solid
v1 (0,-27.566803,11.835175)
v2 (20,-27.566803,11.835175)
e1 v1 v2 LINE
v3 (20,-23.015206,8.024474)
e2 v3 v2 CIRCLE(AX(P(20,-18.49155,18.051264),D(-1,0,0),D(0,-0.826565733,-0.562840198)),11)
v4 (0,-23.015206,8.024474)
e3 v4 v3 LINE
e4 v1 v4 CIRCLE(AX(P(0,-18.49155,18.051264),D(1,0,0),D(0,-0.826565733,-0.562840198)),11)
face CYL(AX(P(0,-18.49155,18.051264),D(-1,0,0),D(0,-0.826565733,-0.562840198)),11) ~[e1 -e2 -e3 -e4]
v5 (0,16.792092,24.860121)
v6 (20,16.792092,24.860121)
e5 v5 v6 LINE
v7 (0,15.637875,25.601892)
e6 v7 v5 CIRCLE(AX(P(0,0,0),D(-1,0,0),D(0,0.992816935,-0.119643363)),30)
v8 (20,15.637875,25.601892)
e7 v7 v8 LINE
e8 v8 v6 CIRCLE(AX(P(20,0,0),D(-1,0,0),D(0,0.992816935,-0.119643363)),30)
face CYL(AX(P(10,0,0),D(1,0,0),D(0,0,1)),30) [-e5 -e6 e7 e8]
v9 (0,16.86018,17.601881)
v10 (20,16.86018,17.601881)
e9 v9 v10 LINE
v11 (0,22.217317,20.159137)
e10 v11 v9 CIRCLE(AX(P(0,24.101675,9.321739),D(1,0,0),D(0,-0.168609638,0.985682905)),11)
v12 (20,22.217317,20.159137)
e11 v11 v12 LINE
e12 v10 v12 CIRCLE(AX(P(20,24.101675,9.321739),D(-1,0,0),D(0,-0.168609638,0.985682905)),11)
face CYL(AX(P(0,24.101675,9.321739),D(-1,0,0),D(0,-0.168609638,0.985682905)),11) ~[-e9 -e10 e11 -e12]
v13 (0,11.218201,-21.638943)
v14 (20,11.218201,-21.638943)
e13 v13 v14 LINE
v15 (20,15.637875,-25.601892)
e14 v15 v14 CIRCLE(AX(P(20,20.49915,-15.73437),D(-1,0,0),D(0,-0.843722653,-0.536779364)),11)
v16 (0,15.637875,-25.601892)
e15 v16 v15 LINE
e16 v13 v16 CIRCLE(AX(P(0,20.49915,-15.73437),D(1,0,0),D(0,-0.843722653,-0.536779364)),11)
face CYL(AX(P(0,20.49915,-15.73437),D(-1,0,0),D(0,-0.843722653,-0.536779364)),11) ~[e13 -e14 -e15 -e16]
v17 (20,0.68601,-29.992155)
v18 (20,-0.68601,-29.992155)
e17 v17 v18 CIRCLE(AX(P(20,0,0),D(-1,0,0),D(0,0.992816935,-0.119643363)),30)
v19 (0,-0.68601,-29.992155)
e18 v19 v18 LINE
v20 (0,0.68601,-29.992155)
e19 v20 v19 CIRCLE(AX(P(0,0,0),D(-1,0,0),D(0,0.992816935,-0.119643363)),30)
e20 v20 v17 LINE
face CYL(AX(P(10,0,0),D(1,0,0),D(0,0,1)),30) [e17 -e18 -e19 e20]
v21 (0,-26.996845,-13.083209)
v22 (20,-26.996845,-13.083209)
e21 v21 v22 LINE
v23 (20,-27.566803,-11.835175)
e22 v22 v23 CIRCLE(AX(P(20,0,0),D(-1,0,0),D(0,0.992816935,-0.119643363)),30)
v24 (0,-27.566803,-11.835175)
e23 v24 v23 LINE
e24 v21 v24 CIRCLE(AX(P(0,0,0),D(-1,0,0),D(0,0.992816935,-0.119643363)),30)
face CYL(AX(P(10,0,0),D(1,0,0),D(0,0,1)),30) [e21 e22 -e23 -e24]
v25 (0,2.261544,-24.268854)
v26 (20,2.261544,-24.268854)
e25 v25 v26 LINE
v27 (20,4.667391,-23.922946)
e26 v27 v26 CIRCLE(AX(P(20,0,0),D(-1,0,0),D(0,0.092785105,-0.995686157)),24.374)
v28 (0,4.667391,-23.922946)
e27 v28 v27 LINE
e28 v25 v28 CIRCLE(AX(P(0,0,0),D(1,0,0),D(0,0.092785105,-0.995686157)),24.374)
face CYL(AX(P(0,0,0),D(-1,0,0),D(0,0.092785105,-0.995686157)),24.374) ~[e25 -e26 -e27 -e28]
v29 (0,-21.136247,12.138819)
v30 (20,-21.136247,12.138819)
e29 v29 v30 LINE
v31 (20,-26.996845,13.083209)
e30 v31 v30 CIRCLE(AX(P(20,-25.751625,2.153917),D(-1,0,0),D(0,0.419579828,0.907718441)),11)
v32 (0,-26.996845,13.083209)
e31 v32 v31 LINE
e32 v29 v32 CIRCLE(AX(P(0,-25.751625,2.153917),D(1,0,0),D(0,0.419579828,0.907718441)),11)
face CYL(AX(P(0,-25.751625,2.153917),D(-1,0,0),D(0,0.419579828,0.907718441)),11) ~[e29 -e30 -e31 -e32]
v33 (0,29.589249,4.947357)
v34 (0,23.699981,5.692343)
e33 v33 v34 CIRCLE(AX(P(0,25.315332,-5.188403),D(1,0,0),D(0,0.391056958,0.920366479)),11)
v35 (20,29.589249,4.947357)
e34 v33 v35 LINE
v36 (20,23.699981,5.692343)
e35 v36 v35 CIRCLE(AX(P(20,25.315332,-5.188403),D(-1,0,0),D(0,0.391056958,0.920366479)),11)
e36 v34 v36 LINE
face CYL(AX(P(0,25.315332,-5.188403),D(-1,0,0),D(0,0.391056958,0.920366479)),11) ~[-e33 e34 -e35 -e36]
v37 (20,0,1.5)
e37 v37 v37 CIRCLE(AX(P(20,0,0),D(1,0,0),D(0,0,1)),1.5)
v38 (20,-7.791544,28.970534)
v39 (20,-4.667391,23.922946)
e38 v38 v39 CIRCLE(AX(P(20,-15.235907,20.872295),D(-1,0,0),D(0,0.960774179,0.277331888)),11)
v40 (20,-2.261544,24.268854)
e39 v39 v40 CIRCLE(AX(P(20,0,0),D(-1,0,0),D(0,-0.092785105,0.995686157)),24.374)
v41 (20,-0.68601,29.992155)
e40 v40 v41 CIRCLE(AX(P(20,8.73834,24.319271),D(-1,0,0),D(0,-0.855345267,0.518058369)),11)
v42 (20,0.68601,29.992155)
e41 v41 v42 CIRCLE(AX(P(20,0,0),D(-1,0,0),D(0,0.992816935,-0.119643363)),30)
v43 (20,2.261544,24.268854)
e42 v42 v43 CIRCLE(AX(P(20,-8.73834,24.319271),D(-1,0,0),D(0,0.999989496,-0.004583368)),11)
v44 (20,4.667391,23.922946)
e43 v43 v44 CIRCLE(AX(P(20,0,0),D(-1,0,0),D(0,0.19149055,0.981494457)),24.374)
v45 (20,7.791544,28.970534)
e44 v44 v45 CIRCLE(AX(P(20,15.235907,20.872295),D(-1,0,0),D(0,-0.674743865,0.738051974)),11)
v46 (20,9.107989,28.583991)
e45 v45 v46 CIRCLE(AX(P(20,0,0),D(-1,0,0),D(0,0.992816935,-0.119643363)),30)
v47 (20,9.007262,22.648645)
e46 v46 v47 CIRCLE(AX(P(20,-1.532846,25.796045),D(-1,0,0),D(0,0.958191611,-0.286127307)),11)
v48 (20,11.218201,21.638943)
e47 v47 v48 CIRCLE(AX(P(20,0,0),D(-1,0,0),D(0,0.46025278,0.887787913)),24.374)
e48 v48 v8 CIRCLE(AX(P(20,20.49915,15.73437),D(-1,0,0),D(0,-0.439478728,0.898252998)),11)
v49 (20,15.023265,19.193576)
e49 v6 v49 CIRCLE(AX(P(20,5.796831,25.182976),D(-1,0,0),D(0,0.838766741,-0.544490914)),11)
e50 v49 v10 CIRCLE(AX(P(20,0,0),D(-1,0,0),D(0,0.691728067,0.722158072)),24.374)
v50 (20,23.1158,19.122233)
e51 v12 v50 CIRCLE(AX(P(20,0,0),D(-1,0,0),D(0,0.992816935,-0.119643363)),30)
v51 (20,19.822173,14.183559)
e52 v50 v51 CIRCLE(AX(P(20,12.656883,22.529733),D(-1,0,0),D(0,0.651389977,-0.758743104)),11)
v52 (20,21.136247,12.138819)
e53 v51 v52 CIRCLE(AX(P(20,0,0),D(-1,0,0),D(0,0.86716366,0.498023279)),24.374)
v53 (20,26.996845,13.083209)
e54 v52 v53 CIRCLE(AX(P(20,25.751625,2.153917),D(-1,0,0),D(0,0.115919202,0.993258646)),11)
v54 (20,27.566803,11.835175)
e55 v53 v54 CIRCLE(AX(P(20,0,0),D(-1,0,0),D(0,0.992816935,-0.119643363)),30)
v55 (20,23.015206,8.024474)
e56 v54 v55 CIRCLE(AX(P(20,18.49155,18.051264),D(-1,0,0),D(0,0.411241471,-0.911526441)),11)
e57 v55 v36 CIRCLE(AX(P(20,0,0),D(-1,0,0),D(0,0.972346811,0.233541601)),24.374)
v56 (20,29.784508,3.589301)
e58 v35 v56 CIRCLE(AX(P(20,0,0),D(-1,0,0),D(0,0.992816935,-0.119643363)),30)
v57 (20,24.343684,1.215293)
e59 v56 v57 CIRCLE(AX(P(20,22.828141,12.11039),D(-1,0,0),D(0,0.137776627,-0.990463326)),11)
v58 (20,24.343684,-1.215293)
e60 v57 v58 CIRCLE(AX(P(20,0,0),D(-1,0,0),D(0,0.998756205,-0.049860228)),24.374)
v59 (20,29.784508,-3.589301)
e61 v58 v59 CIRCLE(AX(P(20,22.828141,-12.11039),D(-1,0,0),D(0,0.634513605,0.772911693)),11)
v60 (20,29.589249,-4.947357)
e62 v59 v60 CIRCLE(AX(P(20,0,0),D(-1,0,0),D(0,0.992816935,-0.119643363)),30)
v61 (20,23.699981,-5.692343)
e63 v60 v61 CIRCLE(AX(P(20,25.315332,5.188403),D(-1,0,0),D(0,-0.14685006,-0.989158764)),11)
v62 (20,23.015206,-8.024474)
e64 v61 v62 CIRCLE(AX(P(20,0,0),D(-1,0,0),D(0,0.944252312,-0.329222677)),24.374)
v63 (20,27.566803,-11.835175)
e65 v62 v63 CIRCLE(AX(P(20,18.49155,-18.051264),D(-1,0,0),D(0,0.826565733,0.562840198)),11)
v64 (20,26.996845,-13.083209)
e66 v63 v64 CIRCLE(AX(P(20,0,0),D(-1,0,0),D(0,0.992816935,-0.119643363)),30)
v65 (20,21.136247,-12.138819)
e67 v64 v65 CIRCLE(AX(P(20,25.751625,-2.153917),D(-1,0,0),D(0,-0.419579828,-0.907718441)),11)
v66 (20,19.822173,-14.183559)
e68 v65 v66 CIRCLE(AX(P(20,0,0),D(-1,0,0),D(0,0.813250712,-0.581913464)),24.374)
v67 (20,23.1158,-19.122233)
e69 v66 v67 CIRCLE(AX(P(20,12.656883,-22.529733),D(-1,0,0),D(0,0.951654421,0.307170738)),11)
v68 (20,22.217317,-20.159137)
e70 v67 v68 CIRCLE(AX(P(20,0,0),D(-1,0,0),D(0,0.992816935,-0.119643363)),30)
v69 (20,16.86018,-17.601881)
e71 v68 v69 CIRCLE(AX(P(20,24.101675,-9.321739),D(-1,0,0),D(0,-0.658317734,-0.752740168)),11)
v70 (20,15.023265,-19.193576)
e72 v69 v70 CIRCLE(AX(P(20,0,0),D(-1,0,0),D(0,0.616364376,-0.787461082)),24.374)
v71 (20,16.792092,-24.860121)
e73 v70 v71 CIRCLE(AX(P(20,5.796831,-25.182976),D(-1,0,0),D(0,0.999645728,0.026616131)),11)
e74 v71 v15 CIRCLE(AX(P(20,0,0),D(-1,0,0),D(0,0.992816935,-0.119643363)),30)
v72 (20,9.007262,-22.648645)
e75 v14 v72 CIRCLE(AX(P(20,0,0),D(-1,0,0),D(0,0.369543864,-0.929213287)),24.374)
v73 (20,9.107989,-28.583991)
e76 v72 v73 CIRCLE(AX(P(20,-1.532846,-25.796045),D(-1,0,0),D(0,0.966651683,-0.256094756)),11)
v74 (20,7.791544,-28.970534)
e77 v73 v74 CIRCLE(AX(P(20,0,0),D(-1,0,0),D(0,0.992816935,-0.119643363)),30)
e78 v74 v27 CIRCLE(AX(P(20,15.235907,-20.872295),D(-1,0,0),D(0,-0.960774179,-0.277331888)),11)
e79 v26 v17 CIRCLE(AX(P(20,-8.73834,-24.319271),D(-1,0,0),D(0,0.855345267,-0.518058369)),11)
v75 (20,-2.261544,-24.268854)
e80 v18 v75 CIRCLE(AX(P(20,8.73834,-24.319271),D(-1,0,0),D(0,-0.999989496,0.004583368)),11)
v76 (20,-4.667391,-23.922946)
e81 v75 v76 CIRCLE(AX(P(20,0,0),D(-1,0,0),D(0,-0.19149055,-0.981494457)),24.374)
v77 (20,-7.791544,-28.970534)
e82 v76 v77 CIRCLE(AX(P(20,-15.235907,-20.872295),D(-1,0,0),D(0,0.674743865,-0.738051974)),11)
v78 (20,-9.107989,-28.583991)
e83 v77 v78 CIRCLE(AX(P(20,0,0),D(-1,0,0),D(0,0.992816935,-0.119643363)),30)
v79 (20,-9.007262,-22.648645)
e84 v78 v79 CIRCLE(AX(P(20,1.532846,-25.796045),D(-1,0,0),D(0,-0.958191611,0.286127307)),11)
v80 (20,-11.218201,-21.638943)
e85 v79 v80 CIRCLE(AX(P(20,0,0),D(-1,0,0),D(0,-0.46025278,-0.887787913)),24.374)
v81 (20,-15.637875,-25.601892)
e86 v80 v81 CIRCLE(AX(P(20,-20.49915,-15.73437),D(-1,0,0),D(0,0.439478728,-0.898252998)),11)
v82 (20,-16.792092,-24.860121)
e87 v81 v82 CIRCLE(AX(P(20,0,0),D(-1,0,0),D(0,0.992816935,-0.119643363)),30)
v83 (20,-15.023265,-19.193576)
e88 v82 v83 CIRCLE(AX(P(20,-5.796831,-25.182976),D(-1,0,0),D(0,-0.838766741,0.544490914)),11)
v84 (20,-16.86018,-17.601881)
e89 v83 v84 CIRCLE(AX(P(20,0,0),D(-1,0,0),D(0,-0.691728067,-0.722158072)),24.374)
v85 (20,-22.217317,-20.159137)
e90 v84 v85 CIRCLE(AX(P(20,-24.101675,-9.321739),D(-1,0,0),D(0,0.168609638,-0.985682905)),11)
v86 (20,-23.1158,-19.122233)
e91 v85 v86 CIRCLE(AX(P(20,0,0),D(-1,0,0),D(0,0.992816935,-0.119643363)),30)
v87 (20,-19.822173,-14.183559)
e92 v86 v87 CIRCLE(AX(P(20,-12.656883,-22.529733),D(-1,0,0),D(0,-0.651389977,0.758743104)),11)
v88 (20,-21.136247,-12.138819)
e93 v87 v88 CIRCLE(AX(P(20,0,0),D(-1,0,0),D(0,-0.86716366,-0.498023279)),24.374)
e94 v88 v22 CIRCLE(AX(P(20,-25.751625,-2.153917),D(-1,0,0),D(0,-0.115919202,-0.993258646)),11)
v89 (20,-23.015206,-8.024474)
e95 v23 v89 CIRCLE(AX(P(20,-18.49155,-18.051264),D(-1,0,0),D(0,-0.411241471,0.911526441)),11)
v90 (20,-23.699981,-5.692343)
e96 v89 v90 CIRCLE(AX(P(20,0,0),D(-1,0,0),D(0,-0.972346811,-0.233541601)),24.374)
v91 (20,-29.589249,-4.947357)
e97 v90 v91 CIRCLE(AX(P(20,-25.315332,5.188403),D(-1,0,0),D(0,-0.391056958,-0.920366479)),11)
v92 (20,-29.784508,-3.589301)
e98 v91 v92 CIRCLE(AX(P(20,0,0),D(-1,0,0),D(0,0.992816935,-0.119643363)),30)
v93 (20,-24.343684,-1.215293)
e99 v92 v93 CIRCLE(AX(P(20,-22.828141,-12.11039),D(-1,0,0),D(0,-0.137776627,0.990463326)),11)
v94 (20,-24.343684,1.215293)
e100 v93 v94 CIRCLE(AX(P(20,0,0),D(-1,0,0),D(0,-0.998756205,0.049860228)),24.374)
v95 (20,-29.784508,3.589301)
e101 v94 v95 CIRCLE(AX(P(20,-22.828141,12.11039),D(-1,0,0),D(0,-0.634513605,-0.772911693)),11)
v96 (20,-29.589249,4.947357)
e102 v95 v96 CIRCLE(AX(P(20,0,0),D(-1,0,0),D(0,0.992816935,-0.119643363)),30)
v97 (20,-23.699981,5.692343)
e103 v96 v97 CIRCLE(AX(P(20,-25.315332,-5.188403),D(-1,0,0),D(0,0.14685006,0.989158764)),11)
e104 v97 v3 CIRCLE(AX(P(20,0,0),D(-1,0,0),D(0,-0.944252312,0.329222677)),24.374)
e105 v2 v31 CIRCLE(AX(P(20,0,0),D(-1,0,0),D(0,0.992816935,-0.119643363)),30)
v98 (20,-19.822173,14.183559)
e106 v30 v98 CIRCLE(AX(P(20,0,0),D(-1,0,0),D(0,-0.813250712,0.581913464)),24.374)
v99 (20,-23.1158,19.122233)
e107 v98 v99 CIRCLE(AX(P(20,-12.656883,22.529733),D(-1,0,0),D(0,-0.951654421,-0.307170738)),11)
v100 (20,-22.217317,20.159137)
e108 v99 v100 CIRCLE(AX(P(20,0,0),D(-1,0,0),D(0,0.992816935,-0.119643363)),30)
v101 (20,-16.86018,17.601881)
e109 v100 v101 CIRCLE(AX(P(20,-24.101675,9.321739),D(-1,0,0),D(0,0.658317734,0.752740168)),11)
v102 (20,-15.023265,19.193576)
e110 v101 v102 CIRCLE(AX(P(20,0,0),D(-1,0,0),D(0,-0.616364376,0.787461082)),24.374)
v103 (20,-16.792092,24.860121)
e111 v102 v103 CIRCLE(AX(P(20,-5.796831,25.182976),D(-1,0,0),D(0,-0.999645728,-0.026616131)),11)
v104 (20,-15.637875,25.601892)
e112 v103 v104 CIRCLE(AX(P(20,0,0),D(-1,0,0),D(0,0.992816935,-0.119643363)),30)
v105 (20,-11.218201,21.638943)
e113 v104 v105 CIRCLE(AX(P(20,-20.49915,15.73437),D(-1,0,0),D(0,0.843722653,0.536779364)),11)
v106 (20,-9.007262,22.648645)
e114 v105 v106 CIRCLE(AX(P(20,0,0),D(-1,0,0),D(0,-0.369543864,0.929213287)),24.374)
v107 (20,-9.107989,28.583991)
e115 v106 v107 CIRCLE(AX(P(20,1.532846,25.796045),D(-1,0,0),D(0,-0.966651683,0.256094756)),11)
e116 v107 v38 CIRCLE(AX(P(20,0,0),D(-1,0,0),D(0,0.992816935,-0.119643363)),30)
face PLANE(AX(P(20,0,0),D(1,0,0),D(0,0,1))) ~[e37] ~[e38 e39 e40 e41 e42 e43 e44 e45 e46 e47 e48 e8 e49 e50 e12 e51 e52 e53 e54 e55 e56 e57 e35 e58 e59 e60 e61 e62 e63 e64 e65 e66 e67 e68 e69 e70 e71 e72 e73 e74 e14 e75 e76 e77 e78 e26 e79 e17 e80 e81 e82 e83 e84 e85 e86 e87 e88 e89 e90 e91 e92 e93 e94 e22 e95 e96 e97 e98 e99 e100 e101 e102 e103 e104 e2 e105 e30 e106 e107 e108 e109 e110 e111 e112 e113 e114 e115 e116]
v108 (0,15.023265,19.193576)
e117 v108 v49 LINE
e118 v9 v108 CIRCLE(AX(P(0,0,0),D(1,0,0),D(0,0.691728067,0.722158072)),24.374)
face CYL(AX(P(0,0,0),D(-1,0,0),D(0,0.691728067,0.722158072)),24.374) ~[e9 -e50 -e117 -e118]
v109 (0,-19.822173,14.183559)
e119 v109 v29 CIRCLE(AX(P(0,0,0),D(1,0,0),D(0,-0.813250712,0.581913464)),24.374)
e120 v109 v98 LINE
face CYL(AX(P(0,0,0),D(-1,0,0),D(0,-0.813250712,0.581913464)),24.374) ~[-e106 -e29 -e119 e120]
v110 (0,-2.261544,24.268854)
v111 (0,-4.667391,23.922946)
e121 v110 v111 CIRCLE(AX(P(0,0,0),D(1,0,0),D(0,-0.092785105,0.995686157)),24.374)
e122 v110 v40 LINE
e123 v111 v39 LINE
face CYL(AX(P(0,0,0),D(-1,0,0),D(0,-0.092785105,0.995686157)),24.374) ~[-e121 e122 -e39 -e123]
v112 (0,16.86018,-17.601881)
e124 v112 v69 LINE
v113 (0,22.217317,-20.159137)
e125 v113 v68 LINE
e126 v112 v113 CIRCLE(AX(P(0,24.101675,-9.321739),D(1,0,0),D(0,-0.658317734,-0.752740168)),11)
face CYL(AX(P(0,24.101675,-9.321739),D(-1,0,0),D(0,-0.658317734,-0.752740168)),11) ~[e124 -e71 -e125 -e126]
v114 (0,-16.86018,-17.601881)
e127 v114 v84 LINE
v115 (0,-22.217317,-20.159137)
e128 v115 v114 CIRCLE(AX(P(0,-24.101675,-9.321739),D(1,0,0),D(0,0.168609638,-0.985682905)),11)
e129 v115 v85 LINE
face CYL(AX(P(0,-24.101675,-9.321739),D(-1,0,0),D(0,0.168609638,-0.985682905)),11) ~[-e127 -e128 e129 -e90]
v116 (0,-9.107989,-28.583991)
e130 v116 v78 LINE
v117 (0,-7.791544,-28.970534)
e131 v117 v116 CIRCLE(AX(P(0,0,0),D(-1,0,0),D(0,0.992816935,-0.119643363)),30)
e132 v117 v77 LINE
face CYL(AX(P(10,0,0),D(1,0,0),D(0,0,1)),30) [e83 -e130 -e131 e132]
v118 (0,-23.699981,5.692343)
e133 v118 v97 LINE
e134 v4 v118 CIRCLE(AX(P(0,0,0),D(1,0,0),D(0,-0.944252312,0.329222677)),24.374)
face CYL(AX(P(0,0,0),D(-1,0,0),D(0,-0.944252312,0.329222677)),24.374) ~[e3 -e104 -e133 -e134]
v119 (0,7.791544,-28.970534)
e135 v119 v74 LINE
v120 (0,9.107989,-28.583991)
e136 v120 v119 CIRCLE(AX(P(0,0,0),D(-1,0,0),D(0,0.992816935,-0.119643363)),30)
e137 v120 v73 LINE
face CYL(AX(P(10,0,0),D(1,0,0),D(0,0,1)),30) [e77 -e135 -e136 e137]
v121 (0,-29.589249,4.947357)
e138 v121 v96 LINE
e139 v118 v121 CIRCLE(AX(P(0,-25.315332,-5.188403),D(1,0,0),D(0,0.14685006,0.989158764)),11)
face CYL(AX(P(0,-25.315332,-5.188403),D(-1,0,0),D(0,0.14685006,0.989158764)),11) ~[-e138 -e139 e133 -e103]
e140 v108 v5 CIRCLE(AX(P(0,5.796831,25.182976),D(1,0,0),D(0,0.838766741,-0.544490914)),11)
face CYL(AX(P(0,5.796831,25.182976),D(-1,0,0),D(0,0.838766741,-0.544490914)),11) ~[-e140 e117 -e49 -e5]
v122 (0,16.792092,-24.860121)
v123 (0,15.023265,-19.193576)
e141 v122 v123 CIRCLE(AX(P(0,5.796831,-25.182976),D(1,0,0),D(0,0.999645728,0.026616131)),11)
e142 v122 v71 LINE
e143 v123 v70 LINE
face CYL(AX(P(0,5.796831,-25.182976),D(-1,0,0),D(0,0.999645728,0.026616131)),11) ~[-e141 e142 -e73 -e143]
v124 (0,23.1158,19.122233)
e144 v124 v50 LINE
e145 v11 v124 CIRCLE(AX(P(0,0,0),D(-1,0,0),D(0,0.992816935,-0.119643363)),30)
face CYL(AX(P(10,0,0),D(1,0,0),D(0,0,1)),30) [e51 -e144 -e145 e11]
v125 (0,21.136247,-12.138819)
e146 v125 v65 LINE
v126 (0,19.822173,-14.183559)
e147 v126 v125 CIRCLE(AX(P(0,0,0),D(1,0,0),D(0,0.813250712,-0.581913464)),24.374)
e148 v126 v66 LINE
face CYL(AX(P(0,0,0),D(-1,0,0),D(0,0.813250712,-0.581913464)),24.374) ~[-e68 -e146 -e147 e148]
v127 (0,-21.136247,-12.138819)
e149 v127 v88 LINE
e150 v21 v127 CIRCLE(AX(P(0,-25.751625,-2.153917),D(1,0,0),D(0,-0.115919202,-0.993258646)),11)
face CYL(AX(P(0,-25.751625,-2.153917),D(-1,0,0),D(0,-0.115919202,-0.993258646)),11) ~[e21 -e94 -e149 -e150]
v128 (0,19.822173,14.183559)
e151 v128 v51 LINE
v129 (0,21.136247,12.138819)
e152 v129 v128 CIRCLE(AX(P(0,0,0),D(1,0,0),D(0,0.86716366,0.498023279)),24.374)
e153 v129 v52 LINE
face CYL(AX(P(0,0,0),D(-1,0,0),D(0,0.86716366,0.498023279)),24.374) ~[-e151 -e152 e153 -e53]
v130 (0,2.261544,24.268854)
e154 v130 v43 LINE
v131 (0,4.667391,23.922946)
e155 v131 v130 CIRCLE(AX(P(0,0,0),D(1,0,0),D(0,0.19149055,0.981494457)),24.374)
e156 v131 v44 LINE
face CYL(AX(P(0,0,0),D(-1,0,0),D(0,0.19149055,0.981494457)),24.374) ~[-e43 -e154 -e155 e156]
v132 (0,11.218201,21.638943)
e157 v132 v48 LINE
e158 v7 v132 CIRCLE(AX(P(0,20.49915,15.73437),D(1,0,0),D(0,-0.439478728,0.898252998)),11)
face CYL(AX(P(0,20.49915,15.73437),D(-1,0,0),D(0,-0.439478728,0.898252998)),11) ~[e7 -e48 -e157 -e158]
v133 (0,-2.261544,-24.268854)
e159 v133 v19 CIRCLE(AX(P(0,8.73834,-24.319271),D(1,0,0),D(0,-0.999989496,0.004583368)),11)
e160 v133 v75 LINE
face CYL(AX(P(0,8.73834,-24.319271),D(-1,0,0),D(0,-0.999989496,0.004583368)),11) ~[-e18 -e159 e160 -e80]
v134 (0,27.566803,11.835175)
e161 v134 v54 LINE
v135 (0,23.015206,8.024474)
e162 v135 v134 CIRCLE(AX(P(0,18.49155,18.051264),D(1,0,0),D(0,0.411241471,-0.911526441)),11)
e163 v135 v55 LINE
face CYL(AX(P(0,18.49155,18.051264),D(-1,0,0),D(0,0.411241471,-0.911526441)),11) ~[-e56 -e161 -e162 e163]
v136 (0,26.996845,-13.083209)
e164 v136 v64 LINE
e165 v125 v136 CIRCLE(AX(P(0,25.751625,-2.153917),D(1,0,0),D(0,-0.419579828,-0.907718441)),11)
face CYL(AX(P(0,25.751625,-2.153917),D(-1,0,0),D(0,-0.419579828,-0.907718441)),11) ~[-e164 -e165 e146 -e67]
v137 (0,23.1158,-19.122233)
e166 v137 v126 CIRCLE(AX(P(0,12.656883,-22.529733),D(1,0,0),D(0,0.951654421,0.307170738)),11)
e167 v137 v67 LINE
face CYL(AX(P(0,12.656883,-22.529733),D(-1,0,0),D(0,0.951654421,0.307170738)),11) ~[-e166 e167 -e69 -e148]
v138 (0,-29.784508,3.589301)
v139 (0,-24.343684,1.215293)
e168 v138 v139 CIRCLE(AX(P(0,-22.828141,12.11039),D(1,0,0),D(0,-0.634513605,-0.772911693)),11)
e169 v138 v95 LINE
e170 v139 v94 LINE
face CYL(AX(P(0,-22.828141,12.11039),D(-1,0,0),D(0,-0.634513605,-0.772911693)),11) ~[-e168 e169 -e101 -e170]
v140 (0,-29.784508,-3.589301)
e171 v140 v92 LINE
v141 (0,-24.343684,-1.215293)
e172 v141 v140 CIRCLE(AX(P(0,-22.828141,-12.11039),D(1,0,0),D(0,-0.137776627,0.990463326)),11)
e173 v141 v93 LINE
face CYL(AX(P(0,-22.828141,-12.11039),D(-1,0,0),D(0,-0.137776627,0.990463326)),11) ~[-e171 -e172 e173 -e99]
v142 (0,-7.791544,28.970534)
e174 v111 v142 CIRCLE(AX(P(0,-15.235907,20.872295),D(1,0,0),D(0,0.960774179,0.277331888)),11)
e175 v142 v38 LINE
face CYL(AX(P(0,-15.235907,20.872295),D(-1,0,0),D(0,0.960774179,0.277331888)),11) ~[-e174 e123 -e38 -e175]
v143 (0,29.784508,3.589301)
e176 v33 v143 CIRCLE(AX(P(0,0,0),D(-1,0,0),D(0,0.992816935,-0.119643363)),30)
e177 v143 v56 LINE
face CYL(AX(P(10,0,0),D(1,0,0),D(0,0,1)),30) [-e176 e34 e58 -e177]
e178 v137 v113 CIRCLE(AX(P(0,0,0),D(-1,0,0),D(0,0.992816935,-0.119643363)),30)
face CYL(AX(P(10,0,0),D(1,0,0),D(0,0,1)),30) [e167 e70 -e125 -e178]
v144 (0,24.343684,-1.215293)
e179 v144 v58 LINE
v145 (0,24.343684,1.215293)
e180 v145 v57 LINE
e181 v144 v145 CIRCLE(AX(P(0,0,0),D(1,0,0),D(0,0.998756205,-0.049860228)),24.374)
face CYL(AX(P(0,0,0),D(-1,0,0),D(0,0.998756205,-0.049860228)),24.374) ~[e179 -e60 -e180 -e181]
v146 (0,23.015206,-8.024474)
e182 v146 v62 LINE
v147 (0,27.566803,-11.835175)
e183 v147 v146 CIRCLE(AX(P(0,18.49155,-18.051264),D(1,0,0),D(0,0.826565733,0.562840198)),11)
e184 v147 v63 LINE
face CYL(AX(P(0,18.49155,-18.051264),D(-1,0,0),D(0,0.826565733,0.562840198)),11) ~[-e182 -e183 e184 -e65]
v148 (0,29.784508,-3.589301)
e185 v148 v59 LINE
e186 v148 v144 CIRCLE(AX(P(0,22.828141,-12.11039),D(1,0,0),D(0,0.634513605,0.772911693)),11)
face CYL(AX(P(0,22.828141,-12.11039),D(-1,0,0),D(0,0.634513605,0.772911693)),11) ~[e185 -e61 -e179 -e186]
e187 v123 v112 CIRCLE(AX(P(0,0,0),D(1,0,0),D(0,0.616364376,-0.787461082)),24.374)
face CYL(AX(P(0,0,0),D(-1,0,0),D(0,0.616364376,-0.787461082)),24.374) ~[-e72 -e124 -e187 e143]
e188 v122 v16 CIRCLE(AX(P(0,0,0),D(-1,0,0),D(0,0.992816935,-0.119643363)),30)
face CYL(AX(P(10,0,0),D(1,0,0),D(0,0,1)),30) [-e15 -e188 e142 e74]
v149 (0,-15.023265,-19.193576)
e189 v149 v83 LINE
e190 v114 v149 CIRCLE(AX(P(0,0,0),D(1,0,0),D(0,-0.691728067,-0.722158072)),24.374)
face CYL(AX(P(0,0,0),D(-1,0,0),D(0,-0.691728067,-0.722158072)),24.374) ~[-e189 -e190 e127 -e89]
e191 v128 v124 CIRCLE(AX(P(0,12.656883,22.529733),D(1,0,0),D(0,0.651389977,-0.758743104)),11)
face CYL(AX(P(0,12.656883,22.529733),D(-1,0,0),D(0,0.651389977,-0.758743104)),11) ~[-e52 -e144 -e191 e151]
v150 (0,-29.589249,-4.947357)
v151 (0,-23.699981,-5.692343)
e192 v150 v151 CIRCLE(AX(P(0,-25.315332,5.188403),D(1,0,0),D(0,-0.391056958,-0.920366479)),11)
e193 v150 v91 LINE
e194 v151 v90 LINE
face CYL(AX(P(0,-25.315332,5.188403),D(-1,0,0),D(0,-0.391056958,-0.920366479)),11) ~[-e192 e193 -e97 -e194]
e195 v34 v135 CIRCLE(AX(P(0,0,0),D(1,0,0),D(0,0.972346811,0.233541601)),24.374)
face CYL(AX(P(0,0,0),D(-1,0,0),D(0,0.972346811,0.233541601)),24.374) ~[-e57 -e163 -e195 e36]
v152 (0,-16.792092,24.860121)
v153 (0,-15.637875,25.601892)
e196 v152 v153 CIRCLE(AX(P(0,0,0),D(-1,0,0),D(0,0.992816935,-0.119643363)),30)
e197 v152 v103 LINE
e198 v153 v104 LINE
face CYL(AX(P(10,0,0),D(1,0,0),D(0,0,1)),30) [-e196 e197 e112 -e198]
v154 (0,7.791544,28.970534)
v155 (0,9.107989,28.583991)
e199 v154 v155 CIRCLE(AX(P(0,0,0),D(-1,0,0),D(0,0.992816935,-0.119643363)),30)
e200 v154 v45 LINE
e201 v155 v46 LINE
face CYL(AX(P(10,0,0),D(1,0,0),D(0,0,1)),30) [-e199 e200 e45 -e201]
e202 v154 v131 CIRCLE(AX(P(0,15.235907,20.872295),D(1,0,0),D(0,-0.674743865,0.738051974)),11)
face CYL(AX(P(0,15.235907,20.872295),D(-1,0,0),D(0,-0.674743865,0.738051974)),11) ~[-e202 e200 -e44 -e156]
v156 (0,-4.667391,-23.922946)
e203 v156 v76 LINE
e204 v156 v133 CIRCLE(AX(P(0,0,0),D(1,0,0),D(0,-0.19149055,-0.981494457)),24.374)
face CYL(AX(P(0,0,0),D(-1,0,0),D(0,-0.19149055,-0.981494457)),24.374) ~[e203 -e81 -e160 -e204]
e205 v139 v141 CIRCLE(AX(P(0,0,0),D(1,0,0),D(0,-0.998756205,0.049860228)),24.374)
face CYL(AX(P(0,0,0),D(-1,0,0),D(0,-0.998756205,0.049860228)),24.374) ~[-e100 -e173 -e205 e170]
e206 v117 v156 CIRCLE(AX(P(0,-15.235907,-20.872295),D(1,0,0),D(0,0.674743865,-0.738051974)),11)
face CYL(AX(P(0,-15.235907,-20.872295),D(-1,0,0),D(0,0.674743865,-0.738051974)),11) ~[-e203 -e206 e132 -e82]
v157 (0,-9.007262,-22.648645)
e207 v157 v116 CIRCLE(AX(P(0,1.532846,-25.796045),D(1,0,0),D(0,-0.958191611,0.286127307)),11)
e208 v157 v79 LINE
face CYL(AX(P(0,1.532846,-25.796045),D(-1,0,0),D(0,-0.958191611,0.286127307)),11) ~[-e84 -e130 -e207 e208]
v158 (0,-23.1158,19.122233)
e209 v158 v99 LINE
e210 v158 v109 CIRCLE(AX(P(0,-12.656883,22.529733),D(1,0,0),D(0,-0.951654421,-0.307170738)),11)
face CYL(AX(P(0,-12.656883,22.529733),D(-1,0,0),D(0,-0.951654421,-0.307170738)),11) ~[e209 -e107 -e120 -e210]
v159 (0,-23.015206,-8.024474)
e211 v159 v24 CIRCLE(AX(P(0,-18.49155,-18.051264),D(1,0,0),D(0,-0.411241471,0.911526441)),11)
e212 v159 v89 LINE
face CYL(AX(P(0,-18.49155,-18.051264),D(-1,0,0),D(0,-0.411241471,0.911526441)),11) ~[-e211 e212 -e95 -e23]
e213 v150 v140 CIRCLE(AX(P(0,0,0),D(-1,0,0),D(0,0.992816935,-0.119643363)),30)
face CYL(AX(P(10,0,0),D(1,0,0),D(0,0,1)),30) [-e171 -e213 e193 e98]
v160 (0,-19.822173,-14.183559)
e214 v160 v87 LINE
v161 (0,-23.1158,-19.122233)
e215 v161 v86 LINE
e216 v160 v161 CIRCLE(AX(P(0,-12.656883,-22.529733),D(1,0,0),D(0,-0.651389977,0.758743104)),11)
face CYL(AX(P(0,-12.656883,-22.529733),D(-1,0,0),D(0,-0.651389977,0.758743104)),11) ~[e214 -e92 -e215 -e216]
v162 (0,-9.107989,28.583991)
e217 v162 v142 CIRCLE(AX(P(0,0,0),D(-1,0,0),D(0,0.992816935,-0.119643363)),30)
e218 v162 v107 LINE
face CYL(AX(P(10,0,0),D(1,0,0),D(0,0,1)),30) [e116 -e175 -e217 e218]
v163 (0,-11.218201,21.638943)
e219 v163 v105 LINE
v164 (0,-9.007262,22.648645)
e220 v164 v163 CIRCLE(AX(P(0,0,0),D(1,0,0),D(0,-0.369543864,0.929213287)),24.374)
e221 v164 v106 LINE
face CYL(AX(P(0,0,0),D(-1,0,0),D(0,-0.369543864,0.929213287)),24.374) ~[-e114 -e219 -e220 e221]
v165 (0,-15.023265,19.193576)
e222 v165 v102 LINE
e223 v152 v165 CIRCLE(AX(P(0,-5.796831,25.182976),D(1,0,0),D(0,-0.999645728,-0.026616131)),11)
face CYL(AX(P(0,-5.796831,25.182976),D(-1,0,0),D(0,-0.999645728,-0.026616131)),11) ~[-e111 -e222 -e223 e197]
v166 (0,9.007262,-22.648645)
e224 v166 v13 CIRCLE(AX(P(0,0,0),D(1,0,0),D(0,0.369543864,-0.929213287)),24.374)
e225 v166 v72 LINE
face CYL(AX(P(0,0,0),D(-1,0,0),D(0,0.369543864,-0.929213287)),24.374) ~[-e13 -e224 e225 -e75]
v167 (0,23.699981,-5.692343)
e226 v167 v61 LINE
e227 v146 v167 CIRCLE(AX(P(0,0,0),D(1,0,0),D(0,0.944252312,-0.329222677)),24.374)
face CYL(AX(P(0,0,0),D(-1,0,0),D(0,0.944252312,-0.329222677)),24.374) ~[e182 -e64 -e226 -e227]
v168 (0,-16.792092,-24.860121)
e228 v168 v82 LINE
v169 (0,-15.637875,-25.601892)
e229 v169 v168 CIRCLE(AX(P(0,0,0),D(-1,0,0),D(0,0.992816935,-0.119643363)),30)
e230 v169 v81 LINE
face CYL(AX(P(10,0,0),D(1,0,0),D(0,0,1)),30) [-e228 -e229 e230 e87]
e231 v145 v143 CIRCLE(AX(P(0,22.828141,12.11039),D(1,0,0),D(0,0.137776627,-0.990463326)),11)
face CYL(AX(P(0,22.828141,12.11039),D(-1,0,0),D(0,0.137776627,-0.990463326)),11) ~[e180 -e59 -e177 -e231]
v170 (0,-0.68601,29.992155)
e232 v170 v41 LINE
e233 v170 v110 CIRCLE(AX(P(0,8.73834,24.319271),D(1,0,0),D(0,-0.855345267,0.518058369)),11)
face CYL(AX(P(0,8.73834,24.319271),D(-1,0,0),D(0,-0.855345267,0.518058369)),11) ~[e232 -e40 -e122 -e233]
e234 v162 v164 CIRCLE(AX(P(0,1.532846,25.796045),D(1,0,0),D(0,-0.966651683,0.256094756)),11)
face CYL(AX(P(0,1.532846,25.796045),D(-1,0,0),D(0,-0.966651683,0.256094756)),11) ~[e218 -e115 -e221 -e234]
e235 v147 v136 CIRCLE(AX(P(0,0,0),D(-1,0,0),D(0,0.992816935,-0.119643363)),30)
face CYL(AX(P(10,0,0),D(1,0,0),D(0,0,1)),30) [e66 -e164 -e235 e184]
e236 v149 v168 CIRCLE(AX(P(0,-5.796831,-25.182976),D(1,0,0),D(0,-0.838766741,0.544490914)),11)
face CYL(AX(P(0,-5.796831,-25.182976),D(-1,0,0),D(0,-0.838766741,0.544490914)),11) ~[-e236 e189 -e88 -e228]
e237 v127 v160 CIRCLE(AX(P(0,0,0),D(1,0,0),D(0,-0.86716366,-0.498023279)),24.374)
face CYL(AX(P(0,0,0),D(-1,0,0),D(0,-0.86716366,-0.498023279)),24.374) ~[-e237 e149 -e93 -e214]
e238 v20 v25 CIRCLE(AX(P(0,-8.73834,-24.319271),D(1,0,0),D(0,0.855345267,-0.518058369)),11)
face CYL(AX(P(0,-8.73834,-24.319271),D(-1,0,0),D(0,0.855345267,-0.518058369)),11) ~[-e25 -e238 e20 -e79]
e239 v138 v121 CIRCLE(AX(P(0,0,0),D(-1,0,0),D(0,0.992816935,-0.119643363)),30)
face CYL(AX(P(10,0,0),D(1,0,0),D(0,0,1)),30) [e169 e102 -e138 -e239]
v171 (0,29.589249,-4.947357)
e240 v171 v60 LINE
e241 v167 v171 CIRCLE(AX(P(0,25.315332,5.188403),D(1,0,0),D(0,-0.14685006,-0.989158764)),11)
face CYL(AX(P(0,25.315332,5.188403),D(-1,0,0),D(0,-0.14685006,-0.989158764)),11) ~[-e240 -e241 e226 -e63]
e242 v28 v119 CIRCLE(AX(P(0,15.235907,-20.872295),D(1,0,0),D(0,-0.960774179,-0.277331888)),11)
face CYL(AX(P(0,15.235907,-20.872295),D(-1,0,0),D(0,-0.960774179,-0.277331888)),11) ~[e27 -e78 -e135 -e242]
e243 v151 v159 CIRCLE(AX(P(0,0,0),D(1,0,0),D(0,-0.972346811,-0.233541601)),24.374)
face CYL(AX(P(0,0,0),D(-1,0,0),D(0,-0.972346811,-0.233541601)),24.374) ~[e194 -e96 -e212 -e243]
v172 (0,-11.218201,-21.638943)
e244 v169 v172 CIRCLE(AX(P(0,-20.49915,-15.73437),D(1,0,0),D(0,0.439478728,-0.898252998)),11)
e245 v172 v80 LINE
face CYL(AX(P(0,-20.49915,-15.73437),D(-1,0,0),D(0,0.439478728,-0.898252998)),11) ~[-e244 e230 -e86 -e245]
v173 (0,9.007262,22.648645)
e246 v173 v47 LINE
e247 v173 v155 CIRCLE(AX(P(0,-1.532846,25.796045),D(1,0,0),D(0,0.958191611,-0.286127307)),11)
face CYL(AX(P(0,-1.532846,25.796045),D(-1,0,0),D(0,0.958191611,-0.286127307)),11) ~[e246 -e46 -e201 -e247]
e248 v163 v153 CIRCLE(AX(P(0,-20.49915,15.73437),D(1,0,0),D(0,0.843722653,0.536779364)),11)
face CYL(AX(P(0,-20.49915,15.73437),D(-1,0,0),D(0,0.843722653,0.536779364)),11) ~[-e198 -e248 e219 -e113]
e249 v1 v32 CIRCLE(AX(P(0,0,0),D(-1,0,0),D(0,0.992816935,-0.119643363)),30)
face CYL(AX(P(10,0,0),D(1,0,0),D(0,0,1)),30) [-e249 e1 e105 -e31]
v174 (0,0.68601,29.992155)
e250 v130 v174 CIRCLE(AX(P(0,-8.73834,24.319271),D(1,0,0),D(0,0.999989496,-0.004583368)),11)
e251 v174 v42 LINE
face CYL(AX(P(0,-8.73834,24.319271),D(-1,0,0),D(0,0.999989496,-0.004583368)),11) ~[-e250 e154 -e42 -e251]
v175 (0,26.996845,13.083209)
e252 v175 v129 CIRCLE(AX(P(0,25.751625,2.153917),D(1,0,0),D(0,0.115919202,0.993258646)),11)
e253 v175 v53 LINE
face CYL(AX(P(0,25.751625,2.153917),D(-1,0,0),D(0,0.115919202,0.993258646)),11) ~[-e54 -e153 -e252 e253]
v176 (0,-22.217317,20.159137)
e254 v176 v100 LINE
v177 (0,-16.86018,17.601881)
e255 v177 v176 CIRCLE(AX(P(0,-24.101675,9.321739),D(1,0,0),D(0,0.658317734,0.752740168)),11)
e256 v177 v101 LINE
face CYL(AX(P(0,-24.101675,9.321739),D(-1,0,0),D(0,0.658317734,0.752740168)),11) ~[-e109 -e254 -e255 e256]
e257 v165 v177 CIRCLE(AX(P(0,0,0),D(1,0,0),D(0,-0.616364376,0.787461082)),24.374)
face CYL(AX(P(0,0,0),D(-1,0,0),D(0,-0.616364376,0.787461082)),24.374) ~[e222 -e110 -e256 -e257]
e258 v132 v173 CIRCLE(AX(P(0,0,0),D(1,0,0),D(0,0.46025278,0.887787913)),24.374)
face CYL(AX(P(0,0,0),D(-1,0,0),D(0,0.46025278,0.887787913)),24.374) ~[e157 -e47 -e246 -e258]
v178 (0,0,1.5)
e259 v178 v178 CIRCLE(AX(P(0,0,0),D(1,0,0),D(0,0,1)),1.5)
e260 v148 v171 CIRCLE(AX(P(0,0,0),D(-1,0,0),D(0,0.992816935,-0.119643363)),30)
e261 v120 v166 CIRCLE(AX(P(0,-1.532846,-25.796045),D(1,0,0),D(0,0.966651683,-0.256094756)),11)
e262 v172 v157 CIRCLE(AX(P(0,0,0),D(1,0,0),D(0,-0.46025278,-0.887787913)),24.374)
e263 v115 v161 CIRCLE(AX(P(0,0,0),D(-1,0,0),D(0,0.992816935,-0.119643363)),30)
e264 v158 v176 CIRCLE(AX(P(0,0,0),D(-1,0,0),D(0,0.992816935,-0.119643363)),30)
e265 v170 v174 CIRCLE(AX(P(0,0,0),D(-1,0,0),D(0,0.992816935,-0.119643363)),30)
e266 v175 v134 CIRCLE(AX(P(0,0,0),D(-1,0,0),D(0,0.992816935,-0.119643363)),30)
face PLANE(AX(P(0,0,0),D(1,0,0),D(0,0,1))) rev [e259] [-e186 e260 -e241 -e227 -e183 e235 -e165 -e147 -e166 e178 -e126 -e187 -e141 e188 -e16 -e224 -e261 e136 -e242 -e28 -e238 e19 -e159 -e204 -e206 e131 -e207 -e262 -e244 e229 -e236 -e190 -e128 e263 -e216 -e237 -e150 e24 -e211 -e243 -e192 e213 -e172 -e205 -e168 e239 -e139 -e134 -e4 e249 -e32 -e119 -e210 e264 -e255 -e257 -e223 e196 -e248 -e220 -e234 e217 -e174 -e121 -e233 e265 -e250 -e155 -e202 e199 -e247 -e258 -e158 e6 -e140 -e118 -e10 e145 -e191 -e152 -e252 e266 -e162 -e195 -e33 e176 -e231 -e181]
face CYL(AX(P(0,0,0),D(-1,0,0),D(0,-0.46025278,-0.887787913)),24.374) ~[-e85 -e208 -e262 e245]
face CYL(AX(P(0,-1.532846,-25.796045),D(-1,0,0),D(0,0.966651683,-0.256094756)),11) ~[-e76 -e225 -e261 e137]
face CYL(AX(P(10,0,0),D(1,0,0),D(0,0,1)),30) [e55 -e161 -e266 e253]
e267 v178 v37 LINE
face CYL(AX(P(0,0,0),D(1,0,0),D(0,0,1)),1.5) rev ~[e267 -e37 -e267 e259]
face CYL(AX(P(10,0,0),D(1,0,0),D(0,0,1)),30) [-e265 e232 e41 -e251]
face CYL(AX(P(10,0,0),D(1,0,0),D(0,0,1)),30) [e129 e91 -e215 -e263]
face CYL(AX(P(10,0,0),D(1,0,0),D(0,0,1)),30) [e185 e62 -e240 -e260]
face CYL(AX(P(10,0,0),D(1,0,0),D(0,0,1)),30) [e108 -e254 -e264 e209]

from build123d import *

# Parameters (mm, degrees)
BASPROSKE_W     = 20
BASPROSKE_H     = 30
TOOTHCUT_DEPTH  = 47.904157598
TEETHCUTS_COUNT = 22
TEETHCUTS_ANGLE = 343.636363636
BORSKE_R        = 1.5
BORE_DEPTH      = 50.0000508


with BuildPart() as part:
    # BasProSke → Base-Revolve (revolve)
    with BuildSketch(Plane(origin=(0, 0, 0), x_dir=(1, 0, 0), z_dir=(0, 1, 0)), mode=Mode.PRIVATE) as base_revolve_sk:
        with Locations((10, 15)):
            Rectangle(BASPROSKE_W, BASPROSKE_H)
    revolve(base_revolve_sk.sketch.rotate(Axis((-10, 0, 0), (1, 0, 0)), 180), axis=Axis((-10, 0, 0), (1, 0, 0)))

    # TooCutSke → ToothCut (cut, through all)
    with BuildSketch(Plane(origin=(0, 0, 0), x_dir=(0, 0, -1), z_dir=(1, 0, 0))):
        with BuildLine():
            ThreePointArc((1.215293185, 24.343683749), (0, 24.374), (-1.215293185, 24.343683749))
            ThreePointArc((-1.215293185, 24.343683749), (-2.034367134, 27.241050063), (-3.608361155, 29.807790507))
            ThreePointArc((-3.608361155, 29.807790507), (0, 30.0254), (3.608361155, 29.807790507))
            ThreePointArc((3.608361155, 29.807790507), (2.034367134, 27.241050063), (1.215293185, 24.343683749))
        make_face()
    toothcut = extrude(amount=TOOTHCUT_DEPTH, mode=Mode.SUBTRACT)

    # TeethCuts: ToothCut ×22 about axis
    teethcuts_axis = Axis((-10, 0, 0), (1, 0, 0))
    for i in range(1, TEETHCUTS_COUNT):
        add(toothcut.rotate(teethcuts_axis, i * TEETHCUTS_ANGLE / (TEETHCUTS_COUNT - 1)), mode=Mode.SUBTRACT)

    # BorSke → Bore (cut, symmetric)
    with BuildSketch(Plane(origin=(0, 0, 0), x_dir=(0, 0, -1), z_dir=(1, 0, 0))):
        with Locations(Location((0, 0, 0), (0, 0, 180))):
            Circle(BORSKE_R)
    extrude(amount=BORE_DEPTH, both=True, mode=Mode.SUBTRACT)


solid = part.part
